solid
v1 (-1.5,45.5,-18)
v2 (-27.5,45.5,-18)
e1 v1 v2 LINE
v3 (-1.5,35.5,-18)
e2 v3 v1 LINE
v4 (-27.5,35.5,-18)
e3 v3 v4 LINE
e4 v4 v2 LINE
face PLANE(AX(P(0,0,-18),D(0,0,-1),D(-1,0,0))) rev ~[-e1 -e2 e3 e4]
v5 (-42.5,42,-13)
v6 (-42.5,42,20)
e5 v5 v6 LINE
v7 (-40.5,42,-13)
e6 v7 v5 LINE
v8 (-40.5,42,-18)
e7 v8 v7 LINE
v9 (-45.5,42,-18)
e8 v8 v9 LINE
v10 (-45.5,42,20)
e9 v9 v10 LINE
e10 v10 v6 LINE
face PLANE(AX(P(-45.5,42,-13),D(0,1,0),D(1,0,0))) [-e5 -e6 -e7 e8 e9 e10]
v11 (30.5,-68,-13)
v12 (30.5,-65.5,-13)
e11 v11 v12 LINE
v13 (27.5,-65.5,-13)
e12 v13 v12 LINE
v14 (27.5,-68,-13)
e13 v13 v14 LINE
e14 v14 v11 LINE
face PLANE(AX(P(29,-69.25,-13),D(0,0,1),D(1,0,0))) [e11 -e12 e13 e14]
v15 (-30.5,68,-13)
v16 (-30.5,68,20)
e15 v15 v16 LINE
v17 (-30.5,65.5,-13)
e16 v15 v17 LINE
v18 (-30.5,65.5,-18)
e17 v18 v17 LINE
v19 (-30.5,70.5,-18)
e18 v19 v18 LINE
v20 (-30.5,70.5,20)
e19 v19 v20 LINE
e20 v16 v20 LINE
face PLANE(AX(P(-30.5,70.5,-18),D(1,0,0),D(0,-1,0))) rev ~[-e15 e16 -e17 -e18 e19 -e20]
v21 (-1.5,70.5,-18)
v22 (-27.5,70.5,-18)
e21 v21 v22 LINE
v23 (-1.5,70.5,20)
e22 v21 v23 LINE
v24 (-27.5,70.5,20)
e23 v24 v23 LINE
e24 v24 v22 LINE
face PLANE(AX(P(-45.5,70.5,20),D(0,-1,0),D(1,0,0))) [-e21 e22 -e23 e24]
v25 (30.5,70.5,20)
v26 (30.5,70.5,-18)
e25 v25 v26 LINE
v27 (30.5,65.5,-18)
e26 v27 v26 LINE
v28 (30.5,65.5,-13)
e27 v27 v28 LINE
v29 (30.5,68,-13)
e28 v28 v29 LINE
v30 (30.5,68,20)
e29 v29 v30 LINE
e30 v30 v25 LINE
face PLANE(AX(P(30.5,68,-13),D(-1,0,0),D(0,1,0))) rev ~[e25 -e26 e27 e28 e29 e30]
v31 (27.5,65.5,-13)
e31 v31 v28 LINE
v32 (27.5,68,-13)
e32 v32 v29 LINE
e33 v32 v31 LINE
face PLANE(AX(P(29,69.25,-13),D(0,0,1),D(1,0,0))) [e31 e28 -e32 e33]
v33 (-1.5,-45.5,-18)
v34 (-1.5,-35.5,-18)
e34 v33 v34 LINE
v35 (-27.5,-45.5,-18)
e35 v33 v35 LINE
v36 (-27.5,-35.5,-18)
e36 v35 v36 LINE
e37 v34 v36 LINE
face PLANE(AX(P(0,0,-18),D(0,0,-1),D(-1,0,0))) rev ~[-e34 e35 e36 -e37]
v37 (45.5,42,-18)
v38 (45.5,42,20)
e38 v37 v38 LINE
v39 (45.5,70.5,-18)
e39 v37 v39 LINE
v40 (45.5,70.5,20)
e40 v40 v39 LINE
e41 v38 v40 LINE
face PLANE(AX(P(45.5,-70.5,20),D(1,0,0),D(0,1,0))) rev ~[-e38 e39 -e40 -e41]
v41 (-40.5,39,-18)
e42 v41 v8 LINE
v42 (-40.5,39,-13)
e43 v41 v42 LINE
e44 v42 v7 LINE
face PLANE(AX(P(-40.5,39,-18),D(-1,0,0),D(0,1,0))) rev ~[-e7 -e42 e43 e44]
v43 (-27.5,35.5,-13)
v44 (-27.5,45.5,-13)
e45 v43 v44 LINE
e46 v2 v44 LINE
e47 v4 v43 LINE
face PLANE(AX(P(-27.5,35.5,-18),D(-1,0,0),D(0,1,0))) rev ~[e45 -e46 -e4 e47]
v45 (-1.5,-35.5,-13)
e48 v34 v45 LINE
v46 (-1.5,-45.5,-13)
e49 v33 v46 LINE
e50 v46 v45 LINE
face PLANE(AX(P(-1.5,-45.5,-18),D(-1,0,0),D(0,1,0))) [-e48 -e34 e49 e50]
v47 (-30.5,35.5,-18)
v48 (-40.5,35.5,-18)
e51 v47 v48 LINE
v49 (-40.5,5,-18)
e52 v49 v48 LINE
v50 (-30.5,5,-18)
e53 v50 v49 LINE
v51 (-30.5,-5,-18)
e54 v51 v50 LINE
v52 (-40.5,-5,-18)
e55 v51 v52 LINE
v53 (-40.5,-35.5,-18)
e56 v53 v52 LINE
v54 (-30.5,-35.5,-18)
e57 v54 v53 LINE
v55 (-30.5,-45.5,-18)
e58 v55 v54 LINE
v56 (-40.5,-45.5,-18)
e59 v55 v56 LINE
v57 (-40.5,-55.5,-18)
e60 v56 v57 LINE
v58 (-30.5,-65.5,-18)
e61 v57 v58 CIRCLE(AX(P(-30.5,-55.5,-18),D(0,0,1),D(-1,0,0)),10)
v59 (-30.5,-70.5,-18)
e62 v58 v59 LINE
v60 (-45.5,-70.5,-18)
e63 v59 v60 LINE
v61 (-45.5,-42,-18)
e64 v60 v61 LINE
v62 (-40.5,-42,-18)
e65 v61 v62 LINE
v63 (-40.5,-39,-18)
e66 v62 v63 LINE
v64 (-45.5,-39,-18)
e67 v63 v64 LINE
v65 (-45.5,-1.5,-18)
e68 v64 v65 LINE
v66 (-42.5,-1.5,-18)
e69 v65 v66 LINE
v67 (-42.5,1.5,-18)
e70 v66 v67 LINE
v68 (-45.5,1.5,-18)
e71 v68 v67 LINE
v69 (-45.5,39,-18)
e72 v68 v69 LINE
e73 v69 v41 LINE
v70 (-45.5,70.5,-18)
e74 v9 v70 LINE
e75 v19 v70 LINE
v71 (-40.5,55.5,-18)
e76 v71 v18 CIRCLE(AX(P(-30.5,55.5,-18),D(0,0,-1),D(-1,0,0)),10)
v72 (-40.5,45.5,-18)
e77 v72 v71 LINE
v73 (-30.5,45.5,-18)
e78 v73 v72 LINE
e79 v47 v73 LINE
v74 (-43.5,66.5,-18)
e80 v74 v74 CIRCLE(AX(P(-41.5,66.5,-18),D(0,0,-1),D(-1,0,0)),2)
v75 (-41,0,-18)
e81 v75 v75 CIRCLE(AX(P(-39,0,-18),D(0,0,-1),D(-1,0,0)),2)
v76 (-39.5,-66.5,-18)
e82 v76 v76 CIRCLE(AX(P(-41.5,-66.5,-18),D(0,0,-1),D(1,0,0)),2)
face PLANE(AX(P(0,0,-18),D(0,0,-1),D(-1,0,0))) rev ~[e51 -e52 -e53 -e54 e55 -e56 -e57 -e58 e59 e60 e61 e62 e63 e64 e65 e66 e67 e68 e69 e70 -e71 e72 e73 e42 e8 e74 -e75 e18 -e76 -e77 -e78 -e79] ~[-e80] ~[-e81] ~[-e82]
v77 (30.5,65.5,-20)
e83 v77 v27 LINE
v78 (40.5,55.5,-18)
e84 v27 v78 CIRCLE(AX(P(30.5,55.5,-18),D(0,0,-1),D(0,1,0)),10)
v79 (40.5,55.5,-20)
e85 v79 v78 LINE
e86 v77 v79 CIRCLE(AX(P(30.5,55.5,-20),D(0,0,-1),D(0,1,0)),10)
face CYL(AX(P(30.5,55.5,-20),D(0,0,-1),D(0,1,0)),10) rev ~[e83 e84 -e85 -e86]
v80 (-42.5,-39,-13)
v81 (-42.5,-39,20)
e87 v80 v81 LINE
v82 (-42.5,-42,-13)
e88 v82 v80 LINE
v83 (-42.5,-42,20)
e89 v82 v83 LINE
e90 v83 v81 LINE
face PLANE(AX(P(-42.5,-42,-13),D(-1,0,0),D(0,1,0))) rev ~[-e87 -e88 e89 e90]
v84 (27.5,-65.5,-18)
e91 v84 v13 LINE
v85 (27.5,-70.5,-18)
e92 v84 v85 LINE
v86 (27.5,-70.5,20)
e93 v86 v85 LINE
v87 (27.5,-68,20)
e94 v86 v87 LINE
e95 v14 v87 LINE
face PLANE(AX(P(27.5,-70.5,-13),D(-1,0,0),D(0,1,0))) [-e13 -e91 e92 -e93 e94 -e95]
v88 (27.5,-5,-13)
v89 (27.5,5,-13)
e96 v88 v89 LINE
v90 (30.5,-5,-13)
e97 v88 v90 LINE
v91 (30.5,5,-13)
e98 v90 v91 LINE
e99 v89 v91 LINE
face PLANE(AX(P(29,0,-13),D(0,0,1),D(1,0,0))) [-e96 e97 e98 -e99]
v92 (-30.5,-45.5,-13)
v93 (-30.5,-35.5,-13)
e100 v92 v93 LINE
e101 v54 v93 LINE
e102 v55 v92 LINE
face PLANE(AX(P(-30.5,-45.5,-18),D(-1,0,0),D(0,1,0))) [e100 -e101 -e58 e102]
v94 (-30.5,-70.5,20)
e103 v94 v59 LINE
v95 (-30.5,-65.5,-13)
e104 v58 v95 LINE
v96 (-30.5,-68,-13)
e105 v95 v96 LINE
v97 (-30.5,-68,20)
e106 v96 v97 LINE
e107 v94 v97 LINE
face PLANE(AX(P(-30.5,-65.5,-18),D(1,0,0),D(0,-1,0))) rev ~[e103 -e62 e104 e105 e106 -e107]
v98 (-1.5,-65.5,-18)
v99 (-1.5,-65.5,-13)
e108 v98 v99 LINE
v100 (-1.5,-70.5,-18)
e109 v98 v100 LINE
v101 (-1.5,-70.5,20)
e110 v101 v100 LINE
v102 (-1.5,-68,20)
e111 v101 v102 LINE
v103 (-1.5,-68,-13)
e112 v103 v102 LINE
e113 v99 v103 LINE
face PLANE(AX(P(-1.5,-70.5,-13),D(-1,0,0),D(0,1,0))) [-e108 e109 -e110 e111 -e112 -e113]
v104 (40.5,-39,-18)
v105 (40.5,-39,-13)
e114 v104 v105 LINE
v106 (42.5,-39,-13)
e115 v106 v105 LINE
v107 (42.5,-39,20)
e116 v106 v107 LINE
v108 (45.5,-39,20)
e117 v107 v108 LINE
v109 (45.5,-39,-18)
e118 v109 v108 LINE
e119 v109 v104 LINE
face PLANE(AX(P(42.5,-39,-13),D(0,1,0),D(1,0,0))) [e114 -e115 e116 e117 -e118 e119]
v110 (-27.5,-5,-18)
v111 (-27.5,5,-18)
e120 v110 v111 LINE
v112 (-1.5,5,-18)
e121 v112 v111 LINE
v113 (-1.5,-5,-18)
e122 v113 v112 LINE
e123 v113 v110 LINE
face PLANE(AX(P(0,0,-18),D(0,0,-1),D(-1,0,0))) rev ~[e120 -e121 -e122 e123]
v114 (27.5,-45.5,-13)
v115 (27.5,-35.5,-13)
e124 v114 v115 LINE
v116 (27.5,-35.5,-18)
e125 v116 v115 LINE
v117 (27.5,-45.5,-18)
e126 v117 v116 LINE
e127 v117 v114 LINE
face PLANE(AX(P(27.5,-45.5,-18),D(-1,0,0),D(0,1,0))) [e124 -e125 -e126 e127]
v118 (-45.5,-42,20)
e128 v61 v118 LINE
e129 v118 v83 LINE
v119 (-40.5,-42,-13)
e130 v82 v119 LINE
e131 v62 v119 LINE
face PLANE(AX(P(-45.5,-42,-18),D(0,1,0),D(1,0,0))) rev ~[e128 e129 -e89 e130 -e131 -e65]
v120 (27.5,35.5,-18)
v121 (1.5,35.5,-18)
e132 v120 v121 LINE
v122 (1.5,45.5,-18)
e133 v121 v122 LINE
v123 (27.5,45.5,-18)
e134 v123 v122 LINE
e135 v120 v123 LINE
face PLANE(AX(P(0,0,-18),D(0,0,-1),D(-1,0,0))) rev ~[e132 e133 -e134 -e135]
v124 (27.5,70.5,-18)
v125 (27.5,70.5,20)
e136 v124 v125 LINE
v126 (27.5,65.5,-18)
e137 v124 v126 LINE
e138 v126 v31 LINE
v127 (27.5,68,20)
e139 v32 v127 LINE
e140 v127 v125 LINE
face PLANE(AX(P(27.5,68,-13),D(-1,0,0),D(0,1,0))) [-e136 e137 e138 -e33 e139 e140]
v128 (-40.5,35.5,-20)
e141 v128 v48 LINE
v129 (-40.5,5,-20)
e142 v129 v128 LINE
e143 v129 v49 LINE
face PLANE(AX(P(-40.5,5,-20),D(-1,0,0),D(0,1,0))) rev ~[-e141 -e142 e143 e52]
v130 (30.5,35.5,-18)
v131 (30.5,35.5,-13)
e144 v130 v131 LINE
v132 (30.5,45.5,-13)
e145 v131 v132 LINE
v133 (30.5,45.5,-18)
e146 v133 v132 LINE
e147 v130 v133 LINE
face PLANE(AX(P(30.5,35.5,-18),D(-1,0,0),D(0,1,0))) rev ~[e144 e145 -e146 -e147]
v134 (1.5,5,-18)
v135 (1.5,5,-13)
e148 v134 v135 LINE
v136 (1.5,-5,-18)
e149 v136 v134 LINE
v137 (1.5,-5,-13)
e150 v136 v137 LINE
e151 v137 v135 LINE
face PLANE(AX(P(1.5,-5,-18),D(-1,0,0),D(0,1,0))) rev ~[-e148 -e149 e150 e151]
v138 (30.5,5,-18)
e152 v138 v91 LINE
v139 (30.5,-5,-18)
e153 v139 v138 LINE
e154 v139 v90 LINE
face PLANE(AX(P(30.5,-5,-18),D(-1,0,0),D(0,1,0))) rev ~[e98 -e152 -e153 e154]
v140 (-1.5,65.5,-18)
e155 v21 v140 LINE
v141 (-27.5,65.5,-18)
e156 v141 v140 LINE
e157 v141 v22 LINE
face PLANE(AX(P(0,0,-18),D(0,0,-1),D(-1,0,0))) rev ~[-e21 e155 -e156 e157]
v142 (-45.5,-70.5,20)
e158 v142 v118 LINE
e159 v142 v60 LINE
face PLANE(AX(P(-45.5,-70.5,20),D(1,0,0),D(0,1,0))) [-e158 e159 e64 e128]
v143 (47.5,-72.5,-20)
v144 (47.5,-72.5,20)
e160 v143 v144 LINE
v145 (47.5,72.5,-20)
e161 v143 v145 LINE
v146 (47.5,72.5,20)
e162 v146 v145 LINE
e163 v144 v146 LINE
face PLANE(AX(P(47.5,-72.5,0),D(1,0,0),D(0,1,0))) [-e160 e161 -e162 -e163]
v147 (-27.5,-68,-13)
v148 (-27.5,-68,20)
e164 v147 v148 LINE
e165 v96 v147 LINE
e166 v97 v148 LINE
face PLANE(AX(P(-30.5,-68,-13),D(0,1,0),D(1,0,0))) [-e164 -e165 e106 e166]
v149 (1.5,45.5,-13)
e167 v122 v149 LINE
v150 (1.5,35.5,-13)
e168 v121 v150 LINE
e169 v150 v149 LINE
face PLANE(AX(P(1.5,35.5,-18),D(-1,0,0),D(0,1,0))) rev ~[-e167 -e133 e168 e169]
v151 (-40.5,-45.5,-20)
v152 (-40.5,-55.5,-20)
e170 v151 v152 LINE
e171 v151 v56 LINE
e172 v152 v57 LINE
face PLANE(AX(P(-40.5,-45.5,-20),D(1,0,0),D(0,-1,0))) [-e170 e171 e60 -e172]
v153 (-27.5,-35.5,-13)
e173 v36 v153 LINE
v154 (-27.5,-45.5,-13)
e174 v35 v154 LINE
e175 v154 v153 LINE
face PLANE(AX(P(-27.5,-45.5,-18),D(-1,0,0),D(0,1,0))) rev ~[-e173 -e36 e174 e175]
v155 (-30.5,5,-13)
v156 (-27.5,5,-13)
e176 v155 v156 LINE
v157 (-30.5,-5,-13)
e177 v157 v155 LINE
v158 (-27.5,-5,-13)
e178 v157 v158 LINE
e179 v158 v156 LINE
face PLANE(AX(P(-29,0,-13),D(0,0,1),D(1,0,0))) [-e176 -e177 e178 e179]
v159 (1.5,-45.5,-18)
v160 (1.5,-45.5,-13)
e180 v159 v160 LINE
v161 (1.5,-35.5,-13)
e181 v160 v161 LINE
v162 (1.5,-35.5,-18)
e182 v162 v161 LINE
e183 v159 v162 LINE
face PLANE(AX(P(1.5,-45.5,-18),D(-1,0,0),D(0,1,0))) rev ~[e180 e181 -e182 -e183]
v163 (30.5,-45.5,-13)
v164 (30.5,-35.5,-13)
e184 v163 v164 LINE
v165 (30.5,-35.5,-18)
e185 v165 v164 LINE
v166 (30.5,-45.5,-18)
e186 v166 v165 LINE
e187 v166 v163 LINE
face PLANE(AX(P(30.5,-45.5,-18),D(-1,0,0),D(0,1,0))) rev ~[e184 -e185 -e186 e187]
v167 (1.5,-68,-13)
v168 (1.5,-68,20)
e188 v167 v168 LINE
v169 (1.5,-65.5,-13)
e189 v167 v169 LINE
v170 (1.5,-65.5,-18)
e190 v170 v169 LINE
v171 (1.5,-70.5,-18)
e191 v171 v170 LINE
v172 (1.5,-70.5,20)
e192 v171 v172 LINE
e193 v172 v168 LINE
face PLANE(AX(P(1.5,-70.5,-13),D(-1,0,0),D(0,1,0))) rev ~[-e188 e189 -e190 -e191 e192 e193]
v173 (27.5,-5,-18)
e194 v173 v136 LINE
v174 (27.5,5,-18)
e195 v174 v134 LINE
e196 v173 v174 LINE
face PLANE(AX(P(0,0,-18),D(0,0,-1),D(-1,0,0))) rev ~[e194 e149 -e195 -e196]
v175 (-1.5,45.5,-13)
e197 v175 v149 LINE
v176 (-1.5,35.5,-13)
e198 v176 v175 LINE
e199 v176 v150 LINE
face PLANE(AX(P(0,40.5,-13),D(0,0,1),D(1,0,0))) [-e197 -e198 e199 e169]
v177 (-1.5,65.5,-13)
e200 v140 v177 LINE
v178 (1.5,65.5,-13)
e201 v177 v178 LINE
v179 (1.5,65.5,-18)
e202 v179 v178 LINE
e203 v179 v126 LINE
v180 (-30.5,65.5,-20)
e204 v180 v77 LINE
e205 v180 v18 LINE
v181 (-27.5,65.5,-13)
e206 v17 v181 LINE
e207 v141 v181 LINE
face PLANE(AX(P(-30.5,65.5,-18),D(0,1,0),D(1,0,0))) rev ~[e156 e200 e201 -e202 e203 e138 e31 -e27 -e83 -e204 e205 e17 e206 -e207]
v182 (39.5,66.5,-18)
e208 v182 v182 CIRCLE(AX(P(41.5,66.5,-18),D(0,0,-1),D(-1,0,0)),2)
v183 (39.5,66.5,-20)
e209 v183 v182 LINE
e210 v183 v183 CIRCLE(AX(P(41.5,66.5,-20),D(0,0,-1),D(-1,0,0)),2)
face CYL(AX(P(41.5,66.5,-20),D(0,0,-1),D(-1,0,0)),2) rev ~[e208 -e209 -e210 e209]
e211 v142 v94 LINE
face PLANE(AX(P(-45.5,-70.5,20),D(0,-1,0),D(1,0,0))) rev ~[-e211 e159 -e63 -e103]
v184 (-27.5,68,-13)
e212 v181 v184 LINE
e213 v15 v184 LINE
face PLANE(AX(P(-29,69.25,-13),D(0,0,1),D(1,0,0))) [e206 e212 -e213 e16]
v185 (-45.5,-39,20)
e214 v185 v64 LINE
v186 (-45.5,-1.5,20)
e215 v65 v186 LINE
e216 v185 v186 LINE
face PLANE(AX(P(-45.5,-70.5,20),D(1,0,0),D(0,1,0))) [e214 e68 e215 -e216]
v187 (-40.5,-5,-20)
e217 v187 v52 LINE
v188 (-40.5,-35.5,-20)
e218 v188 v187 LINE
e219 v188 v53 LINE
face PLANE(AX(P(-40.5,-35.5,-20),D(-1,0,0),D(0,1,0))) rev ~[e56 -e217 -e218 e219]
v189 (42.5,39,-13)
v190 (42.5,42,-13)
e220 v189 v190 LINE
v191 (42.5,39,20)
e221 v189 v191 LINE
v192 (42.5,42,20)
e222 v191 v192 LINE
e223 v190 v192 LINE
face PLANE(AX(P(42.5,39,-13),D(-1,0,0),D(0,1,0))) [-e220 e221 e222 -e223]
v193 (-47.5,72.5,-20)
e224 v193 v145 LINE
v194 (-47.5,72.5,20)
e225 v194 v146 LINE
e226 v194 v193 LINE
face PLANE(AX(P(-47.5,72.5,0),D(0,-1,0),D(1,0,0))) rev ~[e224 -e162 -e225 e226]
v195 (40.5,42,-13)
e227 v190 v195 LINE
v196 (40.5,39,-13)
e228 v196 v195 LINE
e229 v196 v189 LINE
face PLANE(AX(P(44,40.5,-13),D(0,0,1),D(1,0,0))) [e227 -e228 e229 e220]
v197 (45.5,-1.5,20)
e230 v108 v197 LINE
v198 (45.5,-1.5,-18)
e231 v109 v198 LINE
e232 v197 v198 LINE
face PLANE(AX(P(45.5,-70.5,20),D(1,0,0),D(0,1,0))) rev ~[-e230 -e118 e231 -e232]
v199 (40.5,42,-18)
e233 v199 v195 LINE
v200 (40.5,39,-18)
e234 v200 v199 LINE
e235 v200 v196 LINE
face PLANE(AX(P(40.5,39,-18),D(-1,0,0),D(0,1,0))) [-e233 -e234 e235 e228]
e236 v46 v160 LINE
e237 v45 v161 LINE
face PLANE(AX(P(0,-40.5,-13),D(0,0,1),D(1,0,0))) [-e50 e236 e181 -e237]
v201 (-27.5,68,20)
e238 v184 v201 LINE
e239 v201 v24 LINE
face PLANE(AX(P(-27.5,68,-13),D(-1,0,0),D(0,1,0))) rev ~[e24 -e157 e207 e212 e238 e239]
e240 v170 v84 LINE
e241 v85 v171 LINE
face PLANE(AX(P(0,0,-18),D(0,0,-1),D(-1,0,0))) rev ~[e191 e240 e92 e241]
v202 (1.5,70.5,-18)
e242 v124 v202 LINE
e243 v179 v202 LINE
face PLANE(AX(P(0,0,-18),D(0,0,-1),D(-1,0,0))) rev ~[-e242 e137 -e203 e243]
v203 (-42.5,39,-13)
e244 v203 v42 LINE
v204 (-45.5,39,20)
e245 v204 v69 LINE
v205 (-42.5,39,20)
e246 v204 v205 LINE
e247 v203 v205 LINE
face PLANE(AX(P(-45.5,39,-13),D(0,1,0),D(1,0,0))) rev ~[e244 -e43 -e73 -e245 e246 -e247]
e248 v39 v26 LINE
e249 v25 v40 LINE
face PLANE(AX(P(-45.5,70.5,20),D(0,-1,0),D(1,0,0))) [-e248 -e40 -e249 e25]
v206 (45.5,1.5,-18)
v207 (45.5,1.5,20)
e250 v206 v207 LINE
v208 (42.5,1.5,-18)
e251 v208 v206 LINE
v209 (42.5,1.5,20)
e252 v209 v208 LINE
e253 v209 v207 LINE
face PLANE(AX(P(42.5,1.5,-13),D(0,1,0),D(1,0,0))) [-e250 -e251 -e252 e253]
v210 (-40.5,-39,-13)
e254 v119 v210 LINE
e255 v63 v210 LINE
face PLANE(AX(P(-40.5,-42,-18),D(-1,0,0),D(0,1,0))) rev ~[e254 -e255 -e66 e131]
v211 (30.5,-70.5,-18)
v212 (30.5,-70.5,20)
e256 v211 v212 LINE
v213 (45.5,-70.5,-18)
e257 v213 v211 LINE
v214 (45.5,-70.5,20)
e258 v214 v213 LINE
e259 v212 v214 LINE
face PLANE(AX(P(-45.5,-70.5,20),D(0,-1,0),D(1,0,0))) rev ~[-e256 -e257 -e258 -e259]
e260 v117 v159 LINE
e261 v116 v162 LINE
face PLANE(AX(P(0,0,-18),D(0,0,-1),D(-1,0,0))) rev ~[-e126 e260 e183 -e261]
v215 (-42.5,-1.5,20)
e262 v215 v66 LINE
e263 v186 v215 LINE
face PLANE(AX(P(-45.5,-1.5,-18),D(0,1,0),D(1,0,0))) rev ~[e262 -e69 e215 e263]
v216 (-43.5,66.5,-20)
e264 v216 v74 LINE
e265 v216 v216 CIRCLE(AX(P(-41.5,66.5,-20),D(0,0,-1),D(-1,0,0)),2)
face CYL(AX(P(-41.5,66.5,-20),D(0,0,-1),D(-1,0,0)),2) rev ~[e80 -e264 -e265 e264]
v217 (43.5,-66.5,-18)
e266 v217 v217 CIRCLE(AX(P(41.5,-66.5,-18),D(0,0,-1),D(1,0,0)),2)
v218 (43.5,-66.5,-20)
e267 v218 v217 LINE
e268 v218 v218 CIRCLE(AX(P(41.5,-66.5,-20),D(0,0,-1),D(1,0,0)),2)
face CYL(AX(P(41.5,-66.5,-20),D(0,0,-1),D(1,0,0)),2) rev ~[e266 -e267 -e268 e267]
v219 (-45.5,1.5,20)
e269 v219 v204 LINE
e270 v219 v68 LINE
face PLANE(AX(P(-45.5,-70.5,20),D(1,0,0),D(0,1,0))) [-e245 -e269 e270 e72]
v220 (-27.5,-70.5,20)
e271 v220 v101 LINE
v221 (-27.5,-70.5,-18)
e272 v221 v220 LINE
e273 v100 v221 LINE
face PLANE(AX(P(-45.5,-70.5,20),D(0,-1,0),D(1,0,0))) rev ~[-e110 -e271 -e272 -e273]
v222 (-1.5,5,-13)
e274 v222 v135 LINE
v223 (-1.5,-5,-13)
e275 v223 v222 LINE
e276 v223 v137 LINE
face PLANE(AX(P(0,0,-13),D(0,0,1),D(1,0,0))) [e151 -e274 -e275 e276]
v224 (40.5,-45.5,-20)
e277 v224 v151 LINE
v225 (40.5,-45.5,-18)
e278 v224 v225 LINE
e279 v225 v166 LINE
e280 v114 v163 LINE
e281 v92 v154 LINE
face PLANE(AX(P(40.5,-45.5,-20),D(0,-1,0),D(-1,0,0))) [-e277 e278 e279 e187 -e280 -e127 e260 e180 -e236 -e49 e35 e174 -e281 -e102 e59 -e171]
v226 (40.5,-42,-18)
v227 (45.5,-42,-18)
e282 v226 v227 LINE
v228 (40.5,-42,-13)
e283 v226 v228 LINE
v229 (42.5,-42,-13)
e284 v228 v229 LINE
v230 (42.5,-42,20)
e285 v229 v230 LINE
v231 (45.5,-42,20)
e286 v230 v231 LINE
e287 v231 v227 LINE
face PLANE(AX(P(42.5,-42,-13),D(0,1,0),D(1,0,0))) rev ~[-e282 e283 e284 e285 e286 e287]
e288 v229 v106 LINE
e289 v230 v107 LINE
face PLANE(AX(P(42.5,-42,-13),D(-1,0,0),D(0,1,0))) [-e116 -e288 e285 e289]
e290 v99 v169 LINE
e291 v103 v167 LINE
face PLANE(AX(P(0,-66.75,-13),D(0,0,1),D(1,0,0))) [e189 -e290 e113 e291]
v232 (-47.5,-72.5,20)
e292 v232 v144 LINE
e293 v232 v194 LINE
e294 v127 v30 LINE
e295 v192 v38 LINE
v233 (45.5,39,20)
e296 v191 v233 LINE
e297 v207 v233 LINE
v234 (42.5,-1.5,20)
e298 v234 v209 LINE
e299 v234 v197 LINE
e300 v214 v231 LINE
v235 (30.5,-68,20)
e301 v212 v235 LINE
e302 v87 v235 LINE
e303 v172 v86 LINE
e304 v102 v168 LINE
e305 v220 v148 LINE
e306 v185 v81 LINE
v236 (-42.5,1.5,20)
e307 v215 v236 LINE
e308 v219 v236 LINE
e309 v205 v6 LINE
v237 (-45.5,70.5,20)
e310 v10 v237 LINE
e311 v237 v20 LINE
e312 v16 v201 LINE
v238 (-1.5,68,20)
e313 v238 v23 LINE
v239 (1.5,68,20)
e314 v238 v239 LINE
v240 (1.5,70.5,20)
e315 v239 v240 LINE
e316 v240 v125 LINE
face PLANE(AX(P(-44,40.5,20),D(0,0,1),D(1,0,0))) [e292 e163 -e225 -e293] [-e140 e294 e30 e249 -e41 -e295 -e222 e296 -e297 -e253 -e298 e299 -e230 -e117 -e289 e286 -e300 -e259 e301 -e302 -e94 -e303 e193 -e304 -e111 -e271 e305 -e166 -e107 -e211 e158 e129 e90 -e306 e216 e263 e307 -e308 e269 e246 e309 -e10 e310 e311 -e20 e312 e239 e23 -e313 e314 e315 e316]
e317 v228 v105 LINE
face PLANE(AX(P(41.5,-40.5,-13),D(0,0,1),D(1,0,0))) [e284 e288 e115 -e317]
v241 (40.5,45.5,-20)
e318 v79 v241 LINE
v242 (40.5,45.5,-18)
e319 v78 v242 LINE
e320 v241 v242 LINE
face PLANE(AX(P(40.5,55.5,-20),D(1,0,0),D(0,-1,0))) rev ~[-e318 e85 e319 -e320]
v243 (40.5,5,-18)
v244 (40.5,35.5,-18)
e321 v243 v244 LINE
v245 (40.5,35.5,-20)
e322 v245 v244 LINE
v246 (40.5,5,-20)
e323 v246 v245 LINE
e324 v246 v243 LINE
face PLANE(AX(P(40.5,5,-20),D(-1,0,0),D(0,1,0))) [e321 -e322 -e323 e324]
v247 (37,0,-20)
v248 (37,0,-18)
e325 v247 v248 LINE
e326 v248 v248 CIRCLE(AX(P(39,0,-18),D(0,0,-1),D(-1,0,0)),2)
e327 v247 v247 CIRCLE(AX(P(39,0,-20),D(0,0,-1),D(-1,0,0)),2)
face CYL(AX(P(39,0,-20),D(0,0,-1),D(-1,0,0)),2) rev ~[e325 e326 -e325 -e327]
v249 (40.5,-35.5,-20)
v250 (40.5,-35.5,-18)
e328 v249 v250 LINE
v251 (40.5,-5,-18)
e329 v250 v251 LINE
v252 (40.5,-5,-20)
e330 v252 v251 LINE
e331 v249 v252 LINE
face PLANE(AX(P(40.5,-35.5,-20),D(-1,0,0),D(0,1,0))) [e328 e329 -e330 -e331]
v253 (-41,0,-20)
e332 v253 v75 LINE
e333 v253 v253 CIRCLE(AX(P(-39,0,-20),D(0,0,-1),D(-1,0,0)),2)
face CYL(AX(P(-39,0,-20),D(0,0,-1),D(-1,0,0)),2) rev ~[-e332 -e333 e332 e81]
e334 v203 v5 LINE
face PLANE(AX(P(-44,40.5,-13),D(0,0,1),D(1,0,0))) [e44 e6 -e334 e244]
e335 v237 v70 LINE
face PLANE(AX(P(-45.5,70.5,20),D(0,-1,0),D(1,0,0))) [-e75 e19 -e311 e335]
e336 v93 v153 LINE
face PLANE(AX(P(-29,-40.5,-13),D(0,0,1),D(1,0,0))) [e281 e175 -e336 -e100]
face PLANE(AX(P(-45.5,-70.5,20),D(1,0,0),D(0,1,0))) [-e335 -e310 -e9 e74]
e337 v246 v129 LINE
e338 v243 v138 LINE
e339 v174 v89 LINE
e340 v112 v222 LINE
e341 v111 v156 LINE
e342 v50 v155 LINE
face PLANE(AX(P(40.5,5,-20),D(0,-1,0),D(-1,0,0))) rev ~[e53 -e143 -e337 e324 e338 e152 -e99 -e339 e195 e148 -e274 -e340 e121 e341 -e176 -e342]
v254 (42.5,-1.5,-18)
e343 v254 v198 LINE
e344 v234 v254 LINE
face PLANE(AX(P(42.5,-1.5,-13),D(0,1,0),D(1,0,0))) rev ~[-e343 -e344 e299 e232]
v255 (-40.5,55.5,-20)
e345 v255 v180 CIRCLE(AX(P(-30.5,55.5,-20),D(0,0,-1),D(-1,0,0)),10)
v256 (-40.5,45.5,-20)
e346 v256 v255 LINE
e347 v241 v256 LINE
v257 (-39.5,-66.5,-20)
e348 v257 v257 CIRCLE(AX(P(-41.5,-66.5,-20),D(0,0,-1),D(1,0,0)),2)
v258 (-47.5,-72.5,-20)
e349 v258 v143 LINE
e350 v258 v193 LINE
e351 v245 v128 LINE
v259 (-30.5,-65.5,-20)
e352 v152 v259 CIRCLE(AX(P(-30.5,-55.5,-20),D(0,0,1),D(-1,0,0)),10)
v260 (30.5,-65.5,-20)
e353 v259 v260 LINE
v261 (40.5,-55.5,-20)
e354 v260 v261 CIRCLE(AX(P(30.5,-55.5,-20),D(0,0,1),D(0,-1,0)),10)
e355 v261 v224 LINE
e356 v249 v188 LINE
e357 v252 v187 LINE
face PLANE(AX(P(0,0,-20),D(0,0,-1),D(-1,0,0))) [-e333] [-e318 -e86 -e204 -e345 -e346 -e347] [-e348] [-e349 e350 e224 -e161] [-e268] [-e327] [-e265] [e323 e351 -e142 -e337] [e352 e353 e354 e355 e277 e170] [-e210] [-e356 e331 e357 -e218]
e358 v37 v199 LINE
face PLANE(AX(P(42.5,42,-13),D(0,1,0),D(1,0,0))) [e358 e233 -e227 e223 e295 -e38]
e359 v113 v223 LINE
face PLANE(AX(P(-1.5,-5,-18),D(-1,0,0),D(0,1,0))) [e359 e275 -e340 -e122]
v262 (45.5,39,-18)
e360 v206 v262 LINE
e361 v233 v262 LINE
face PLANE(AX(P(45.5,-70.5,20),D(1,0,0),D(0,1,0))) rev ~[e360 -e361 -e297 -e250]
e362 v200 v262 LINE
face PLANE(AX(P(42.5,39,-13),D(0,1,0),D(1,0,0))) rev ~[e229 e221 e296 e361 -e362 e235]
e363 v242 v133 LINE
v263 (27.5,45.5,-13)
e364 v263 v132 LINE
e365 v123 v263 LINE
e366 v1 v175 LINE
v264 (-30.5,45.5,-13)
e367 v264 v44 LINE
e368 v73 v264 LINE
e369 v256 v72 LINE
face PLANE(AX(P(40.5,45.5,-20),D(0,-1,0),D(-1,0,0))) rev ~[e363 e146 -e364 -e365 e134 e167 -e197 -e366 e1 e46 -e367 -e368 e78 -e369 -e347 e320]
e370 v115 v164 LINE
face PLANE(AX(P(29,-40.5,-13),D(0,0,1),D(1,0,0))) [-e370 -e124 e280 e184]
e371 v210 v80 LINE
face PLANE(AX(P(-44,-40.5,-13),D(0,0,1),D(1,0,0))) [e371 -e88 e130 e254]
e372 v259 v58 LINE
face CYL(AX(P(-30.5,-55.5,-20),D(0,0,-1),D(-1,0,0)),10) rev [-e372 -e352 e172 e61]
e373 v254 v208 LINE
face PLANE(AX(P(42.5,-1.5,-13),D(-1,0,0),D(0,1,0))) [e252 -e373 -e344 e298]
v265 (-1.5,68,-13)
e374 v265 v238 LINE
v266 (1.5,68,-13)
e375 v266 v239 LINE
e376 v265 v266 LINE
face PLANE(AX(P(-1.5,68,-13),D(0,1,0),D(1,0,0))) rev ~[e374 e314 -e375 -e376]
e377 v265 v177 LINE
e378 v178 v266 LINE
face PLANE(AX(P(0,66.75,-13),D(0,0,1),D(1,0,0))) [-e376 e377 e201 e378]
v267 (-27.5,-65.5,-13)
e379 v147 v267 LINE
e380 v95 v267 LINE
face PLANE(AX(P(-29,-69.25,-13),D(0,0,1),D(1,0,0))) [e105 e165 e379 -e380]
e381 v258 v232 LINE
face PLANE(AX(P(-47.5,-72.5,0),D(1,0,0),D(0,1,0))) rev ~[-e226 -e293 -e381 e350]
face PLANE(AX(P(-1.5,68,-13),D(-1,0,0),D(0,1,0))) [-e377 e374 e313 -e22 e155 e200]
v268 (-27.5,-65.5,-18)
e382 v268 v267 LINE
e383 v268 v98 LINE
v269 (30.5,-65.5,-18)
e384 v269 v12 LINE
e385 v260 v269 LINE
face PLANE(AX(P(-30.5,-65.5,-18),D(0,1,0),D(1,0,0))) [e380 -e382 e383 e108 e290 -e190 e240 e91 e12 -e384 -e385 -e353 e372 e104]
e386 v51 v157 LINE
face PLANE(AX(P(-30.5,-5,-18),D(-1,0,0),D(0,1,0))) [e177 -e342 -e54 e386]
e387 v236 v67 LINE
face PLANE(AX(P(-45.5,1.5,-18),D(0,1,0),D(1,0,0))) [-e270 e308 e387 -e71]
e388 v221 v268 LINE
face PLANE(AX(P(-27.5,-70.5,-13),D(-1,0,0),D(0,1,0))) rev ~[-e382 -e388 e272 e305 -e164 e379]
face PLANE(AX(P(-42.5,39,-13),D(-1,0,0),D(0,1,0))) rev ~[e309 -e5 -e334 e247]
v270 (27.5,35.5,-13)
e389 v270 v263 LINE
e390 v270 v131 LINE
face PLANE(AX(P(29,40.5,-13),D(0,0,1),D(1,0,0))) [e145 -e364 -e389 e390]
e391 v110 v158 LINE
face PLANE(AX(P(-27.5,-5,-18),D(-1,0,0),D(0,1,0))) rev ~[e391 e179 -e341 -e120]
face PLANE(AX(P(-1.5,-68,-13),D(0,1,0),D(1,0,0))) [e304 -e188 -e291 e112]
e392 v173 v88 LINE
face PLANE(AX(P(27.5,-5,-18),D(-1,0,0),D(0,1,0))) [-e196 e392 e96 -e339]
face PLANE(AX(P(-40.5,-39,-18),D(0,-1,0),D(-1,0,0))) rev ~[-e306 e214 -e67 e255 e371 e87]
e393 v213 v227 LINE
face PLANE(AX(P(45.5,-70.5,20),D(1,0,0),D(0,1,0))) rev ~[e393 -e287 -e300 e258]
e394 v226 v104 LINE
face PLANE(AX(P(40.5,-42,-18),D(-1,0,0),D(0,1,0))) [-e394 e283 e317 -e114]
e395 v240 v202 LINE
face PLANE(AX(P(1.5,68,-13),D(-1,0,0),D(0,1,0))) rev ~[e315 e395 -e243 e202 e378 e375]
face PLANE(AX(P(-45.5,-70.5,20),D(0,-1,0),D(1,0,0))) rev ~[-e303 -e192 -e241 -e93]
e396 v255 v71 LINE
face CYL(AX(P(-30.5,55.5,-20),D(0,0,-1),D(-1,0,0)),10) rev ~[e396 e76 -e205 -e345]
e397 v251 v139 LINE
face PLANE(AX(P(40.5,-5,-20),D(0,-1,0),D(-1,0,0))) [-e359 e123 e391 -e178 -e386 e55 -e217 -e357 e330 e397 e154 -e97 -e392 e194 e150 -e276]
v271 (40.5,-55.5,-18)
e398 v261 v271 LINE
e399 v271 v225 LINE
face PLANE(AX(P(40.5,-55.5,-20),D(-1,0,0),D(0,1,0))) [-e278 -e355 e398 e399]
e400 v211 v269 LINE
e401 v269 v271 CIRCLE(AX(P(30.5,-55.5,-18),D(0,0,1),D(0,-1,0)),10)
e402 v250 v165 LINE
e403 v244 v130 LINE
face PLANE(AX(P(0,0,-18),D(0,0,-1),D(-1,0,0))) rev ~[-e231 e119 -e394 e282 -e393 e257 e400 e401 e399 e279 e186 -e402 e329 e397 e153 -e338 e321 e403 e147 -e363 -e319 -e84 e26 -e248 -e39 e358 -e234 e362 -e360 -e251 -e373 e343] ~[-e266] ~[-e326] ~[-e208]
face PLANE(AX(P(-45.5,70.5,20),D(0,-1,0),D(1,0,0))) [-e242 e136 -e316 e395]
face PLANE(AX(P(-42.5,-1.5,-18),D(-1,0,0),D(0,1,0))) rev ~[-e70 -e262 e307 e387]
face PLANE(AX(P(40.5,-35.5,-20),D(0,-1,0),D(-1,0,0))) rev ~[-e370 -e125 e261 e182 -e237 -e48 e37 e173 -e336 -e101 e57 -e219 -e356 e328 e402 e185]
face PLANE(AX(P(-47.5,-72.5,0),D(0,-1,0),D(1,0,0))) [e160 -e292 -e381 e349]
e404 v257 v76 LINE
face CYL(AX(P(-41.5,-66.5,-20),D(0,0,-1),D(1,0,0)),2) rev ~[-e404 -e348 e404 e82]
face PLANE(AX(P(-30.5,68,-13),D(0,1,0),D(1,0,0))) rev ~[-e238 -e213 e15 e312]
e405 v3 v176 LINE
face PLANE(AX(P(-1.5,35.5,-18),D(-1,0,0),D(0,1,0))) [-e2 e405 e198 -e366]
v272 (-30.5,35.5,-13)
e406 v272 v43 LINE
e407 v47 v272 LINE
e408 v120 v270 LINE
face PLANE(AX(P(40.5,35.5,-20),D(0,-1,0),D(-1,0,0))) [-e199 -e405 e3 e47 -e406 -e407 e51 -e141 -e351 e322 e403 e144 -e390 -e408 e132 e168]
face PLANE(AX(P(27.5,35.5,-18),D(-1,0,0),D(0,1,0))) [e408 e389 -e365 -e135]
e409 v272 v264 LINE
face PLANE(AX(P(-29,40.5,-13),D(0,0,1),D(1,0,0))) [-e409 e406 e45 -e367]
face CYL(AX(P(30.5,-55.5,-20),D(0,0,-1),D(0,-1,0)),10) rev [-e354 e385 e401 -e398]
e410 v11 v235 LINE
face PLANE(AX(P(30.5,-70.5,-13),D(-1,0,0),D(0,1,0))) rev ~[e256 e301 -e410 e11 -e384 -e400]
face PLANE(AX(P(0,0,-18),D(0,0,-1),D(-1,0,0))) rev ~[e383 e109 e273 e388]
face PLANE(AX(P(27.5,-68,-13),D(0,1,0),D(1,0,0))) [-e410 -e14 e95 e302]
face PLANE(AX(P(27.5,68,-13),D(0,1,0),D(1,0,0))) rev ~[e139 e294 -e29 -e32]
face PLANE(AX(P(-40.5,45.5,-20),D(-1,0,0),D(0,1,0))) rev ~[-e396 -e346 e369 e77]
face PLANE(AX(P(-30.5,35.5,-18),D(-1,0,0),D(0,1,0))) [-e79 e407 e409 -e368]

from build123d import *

# Parameters (mm, degrees)
SKETCH1_W           = 95
SKETCH1_H           = 145
BOSS_EXTRUDE1_DEPTH = 20
SKETCH2_W           = 91
SKETCH2_H           = 141
CUT_EXTRUDE1_DEPTH  = 40
SKETCH3_W           = 91
SKETCH3_H           = 141
SKETCH3_W_2         = 81
SKETCH3_H_2         = 30.5
BOSS_EXTRUDE2_DEPTH = 2
CUT_EXTRUDE2_REACH  = 97.459
SKETCH4_R           = 2
SKETCH6_W           = 3
SKETCH6_H           = 2.5
SKETCH6_H_2         = 3
SKETCH6_W_2         = 2
SKETCH6_H_3         = 10
BOSS_EXTRUDE3_DEPTH = 5
SKETCH7_W           = 3
SKETCH7_H           = 3
SKETCH7_H_2         = 2.5
BOSS_EXTRUDE4_DEPTH = 33


with BuildPart() as part:
    # Sketch1 → Boss-Extrude1 (new, symmetric)
    with BuildSketch(Plane.XY):
        Rectangle(SKETCH1_W, SKETCH1_H)
    extrude(amount=BOSS_EXTRUDE1_DEPTH, both=True)

    # Sketch2 → Cut-Extrude1 (cut)
    with BuildSketch(Plane.XY.offset(20)):
        Rectangle(SKETCH2_W, SKETCH2_H)
    extrude(amount=-CUT_EXTRUDE1_DEPTH, mode=Mode.SUBTRACT)

    # Sketch3 → Boss-Extrude2 (add)
    with BuildSketch(Plane(origin=(0, 0, -20), x_dir=(-1, 0, 0), z_dir=(0, 0, -1))):
        Rectangle(SKETCH3_W, SKETCH3_H)
        with Locations((0, -20.25)):
            Rectangle(SKETCH3_W_2, SKETCH3_H_2, mode=Mode.SUBTRACT)
        with BuildLine():
            Line((-40.5, -45.5), (40.5, -45.5))
            Line((40.5, -45.5), (40.5, -55.5))
            ThreePointArc((40.5, -55.5), (37.571067812, -62.571067812), (30.5, -65.5))
            Line((30.5, -65.5), (-30.5, -65.5))
            ThreePointArc((-30.5, -65.5), (-37.571067812, -62.571067812), (-40.5, -55.5))
            Line((-40.5, -55.5), (-40.5, -45.5))
        make_face(mode=Mode.SUBTRACT)
        with Locations((0, 20.25)):
            Rectangle(SKETCH3_W_2, SKETCH3_H_2, mode=Mode.SUBTRACT)
        with BuildLine():
            Line((30.5, 65.5), (-30.5, 65.5))
            ThreePointArc((-30.5, 65.5), (-37.571067812, 62.571067812), (-40.5, 55.5))
            Line((-40.5, 55.5), (-40.5, 45.5))
            Line((-40.5, 45.5), (40.5, 45.5))
            Line((40.5, 45.5), (40.5, 55.5))
            ThreePointArc((40.5, 55.5), (37.571067812, 62.571067812), (30.5, 65.5))
        make_face(mode=Mode.SUBTRACT)
    extrude(amount=-BOSS_EXTRUDE2_DEPTH)

    # Sketch4 → Cut-Extrude2 (cut, up to next)
    with BuildSketch(Plane(origin=(0, 0, -20), x_dir=(-1, 0, 0), z_dir=(0, 0, -1)), mode=Mode.PRIVATE) as cut_extrude2_sk1:
        with Locations((-41.5, 66.5)):
            Circle(SKETCH4_R)
    cut_extrude2_tool1 = extrude(cut_extrude2_sk1.sketch, amount=-CUT_EXTRUDE2_REACH, mode=Mode.PRIVATE) & part.part
    # Sketch4 → Cut-Extrude2 (cut, up to next)
    with BuildSketch(Plane(origin=(0, 0, -20), x_dir=(-1, 0, 0), z_dir=(0, 0, -1)), mode=Mode.PRIVATE) as cut_extrude2_sk2:
        with Locations((41.5, 66.5)):
            Circle(SKETCH4_R)
    cut_extrude2_tool2 = extrude(cut_extrude2_sk2.sketch, amount=-CUT_EXTRUDE2_REACH, mode=Mode.PRIVATE) & part.part
    # Sketch4 → Cut-Extrude2 (cut, up to next)
    with BuildSketch(Plane(origin=(0, 0, -20), x_dir=(-1, 0, 0), z_dir=(0, 0, -1)), mode=Mode.PRIVATE) as cut_extrude2_sk3:
        with Locations(Location((41.5, -66.5, 0), (0, 0, 180))):
            Circle(SKETCH4_R)
    cut_extrude2_tool3 = extrude(cut_extrude2_sk3.sketch, amount=-CUT_EXTRUDE2_REACH, mode=Mode.PRIVATE) & part.part
    # Sketch4 → Cut-Extrude2 (cut, up to next)
    with BuildSketch(Plane(origin=(0, 0, -20), x_dir=(-1, 0, 0), z_dir=(0, 0, -1)), mode=Mode.PRIVATE) as cut_extrude2_sk4:
        with Locations(Location((-41.5, -66.5, 0), (0, 0, 180))):
            Circle(SKETCH4_R)
    cut_extrude2_tool4 = extrude(cut_extrude2_sk4.sketch, amount=-CUT_EXTRUDE2_REACH, mode=Mode.PRIVATE) & part.part
    # Sketch4 → Cut-Extrude2 (cut, up to next)
    with BuildSketch(Plane(origin=(0, 0, -20), x_dir=(-1, 0, 0), z_dir=(0, 0, -1)), mode=Mode.PRIVATE) as cut_extrude2_sk5:
        with Locations((-39, 0)):
            Circle(SKETCH4_R)
    cut_extrude2_tool5 = extrude(cut_extrude2_sk5.sketch, amount=-CUT_EXTRUDE2_REACH, mode=Mode.PRIVATE) & part.part
    # Sketch4 → Cut-Extrude2 (cut, up to next)
    with BuildSketch(Plane(origin=(0, 0, -20), x_dir=(-1, 0, 0), z_dir=(0, 0, -1)), mode=Mode.PRIVATE) as cut_extrude2_sk6:
        with Locations((39, 0)):
            Circle(SKETCH4_R)
    cut_extrude2_tool6 = extrude(cut_extrude2_sk6.sketch, amount=-CUT_EXTRUDE2_REACH, mode=Mode.PRIVATE) & part.part
    add(cut_extrude2_tool1.solids().sort_by_distance((41.5, 66.5, -20))[0], mode=Mode.SUBTRACT)
    add(cut_extrude2_tool2.solids().sort_by_distance((-41.5, 66.5, -20))[0], mode=Mode.SUBTRACT)
    add(cut_extrude2_tool3.solids().sort_by_distance((-41.5, -66.5, -20))[0], mode=Mode.SUBTRACT)
    add(cut_extrude2_tool4.solids().sort_by_distance((41.5, -66.5, -20))[0], mode=Mode.SUBTRACT)
    add(cut_extrude2_tool5.solids().sort_by_distance((39, 0, -20))[0], mode=Mode.SUBTRACT)
    add(cut_extrude2_tool6.solids().sort_by_distance((-39, 0, -20))[0], mode=Mode.SUBTRACT)

    # Sketch6 → Boss-Extrude3 (add)
    with BuildSketch(Plane.XY.offset(-18)):
        with Locations((-29, 69.25)):
            Rectangle(SKETCH6_W, SKETCH6_H)
        with Locations((-29, 66.75)):
            Rectangle(SKETCH6_W, SKETCH6_H)
        with Locations((0, 66.75)):
            Rectangle(SKETCH6_W, SKETCH6_H)
        with Locations((0, 69.25)):
            Rectangle(SKETCH6_W, SKETCH6_H)
        with Locations((29, 69.25)):
            Rectangle(SKETCH6_W, SKETCH6_H)
        with Locations((29, 66.75)):
            Rectangle(SKETCH6_W, SKETCH6_H)
        with Locations((44, 40.5)):
            Rectangle(SKETCH6_W, SKETCH6_H_2)
        with Locations((41.5, 40.5)):
            Rectangle(SKETCH6_W_2, SKETCH6_H_2)
        with Locations((29, 40.5)):
            Rectangle(SKETCH6_W, SKETCH6_H_3)
        with Locations((-29, 40.5)):
            Rectangle(SKETCH6_W, SKETCH6_H_3)
        with Locations((-44, 40.5)):
            Rectangle(SKETCH6_W, SKETCH6_H_2)
        with Locations((-41.5, 40.5)):
            Rectangle(SKETCH6_W_2, SKETCH6_H_2)
        with Locations((44, 0)):
            Rectangle(SKETCH6_W, SKETCH6_H_2)
        with Locations((29, 0)):
            Rectangle(SKETCH6_W, SKETCH6_H_3)
        with Locations((-29, 0)):
            Rectangle(SKETCH6_W, SKETCH6_H_3)
        with Locations((-44, 0)):
            Rectangle(SKETCH6_W, SKETCH6_H_2)
        with Locations((-44, -40.5)):
            Rectangle(SKETCH6_W, SKETCH6_H_2)
        with Locations((-41.5, -40.5)):
            Rectangle(SKETCH6_W_2, SKETCH6_H_2)
        with Locations((-29, -40.5)):
            Rectangle(SKETCH6_W, SKETCH6_H_3)
        with Locations((29, -40.5)):
            Rectangle(SKETCH6_W, SKETCH6_H_3)
        with Locations((41.5, -40.5)):
            Rectangle(SKETCH6_W_2, SKETCH6_H_2)
        with Locations((44, -40.5)):
            Rectangle(SKETCH6_W, SKETCH6_H_2)
        with Locations((-29, -69.25)):
            Rectangle(SKETCH6_W, SKETCH6_H)
        with Locations((-29, -66.75)):
            Rectangle(SKETCH6_W, SKETCH6_H)
        with Locations((0, -66.75)):
            Rectangle(SKETCH6_W, SKETCH6_H)
        with Locations((0, -69.25)):
            Rectangle(SKETCH6_W, SKETCH6_H)
        with Locations((29, -69.25)):
            Rectangle(SKETCH6_W, SKETCH6_H)
        with Locations((29, -66.75)):
            Rectangle(SKETCH6_W, SKETCH6_H)
        with Locations((0, 40.5)):
            Rectangle(SKETCH6_W, SKETCH6_H_3)
        Rectangle(SKETCH6_W, SKETCH6_H_3)
        with Locations((0, -40.5)):
            Rectangle(SKETCH6_W, SKETCH6_H_3)
    extrude(amount=BOSS_EXTRUDE3_DEPTH)

    # Sketch7 → Boss-Extrude4 (add)
    with BuildSketch(Plane.XY.offset(-13)):
        with Locations((-44, 40.5)):
            Rectangle(SKETCH7_W, SKETCH7_H)
        with Locations((-29, 69.25)):
            Rectangle(SKETCH7_W, SKETCH7_H_2)
        with Locations((-44, 0)):
            Rectangle(SKETCH7_W, SKETCH7_H)
        with Locations((-44, -40.5)):
            Rectangle(SKETCH7_W, SKETCH7_H)
        with Locations((-29, -69.25)):
            Rectangle(SKETCH7_W, SKETCH7_H_2)
        with Locations((0, -69.25)):
            Rectangle(SKETCH7_W, SKETCH7_H_2)
        with Locations((29, -69.25)):
            Rectangle(SKETCH7_W, SKETCH7_H_2)
        with Locations((44, -40.5)):
            Rectangle(SKETCH7_W, SKETCH7_H)
        with Locations((44, 0)):
            Rectangle(SKETCH7_W, SKETCH7_H)
        with Locations((44, 40.5)):
            Rectangle(SKETCH7_W, SKETCH7_H)
        with Locations((29, 69.25)):
            Rectangle(SKETCH7_W, SKETCH7_H_2)
        with Locations((0, 69.25)):
            Rectangle(SKETCH7_W, SKETCH7_H_2)
    extrude(amount=BOSS_EXTRUDE4_DEPTH)


solid = part.part
